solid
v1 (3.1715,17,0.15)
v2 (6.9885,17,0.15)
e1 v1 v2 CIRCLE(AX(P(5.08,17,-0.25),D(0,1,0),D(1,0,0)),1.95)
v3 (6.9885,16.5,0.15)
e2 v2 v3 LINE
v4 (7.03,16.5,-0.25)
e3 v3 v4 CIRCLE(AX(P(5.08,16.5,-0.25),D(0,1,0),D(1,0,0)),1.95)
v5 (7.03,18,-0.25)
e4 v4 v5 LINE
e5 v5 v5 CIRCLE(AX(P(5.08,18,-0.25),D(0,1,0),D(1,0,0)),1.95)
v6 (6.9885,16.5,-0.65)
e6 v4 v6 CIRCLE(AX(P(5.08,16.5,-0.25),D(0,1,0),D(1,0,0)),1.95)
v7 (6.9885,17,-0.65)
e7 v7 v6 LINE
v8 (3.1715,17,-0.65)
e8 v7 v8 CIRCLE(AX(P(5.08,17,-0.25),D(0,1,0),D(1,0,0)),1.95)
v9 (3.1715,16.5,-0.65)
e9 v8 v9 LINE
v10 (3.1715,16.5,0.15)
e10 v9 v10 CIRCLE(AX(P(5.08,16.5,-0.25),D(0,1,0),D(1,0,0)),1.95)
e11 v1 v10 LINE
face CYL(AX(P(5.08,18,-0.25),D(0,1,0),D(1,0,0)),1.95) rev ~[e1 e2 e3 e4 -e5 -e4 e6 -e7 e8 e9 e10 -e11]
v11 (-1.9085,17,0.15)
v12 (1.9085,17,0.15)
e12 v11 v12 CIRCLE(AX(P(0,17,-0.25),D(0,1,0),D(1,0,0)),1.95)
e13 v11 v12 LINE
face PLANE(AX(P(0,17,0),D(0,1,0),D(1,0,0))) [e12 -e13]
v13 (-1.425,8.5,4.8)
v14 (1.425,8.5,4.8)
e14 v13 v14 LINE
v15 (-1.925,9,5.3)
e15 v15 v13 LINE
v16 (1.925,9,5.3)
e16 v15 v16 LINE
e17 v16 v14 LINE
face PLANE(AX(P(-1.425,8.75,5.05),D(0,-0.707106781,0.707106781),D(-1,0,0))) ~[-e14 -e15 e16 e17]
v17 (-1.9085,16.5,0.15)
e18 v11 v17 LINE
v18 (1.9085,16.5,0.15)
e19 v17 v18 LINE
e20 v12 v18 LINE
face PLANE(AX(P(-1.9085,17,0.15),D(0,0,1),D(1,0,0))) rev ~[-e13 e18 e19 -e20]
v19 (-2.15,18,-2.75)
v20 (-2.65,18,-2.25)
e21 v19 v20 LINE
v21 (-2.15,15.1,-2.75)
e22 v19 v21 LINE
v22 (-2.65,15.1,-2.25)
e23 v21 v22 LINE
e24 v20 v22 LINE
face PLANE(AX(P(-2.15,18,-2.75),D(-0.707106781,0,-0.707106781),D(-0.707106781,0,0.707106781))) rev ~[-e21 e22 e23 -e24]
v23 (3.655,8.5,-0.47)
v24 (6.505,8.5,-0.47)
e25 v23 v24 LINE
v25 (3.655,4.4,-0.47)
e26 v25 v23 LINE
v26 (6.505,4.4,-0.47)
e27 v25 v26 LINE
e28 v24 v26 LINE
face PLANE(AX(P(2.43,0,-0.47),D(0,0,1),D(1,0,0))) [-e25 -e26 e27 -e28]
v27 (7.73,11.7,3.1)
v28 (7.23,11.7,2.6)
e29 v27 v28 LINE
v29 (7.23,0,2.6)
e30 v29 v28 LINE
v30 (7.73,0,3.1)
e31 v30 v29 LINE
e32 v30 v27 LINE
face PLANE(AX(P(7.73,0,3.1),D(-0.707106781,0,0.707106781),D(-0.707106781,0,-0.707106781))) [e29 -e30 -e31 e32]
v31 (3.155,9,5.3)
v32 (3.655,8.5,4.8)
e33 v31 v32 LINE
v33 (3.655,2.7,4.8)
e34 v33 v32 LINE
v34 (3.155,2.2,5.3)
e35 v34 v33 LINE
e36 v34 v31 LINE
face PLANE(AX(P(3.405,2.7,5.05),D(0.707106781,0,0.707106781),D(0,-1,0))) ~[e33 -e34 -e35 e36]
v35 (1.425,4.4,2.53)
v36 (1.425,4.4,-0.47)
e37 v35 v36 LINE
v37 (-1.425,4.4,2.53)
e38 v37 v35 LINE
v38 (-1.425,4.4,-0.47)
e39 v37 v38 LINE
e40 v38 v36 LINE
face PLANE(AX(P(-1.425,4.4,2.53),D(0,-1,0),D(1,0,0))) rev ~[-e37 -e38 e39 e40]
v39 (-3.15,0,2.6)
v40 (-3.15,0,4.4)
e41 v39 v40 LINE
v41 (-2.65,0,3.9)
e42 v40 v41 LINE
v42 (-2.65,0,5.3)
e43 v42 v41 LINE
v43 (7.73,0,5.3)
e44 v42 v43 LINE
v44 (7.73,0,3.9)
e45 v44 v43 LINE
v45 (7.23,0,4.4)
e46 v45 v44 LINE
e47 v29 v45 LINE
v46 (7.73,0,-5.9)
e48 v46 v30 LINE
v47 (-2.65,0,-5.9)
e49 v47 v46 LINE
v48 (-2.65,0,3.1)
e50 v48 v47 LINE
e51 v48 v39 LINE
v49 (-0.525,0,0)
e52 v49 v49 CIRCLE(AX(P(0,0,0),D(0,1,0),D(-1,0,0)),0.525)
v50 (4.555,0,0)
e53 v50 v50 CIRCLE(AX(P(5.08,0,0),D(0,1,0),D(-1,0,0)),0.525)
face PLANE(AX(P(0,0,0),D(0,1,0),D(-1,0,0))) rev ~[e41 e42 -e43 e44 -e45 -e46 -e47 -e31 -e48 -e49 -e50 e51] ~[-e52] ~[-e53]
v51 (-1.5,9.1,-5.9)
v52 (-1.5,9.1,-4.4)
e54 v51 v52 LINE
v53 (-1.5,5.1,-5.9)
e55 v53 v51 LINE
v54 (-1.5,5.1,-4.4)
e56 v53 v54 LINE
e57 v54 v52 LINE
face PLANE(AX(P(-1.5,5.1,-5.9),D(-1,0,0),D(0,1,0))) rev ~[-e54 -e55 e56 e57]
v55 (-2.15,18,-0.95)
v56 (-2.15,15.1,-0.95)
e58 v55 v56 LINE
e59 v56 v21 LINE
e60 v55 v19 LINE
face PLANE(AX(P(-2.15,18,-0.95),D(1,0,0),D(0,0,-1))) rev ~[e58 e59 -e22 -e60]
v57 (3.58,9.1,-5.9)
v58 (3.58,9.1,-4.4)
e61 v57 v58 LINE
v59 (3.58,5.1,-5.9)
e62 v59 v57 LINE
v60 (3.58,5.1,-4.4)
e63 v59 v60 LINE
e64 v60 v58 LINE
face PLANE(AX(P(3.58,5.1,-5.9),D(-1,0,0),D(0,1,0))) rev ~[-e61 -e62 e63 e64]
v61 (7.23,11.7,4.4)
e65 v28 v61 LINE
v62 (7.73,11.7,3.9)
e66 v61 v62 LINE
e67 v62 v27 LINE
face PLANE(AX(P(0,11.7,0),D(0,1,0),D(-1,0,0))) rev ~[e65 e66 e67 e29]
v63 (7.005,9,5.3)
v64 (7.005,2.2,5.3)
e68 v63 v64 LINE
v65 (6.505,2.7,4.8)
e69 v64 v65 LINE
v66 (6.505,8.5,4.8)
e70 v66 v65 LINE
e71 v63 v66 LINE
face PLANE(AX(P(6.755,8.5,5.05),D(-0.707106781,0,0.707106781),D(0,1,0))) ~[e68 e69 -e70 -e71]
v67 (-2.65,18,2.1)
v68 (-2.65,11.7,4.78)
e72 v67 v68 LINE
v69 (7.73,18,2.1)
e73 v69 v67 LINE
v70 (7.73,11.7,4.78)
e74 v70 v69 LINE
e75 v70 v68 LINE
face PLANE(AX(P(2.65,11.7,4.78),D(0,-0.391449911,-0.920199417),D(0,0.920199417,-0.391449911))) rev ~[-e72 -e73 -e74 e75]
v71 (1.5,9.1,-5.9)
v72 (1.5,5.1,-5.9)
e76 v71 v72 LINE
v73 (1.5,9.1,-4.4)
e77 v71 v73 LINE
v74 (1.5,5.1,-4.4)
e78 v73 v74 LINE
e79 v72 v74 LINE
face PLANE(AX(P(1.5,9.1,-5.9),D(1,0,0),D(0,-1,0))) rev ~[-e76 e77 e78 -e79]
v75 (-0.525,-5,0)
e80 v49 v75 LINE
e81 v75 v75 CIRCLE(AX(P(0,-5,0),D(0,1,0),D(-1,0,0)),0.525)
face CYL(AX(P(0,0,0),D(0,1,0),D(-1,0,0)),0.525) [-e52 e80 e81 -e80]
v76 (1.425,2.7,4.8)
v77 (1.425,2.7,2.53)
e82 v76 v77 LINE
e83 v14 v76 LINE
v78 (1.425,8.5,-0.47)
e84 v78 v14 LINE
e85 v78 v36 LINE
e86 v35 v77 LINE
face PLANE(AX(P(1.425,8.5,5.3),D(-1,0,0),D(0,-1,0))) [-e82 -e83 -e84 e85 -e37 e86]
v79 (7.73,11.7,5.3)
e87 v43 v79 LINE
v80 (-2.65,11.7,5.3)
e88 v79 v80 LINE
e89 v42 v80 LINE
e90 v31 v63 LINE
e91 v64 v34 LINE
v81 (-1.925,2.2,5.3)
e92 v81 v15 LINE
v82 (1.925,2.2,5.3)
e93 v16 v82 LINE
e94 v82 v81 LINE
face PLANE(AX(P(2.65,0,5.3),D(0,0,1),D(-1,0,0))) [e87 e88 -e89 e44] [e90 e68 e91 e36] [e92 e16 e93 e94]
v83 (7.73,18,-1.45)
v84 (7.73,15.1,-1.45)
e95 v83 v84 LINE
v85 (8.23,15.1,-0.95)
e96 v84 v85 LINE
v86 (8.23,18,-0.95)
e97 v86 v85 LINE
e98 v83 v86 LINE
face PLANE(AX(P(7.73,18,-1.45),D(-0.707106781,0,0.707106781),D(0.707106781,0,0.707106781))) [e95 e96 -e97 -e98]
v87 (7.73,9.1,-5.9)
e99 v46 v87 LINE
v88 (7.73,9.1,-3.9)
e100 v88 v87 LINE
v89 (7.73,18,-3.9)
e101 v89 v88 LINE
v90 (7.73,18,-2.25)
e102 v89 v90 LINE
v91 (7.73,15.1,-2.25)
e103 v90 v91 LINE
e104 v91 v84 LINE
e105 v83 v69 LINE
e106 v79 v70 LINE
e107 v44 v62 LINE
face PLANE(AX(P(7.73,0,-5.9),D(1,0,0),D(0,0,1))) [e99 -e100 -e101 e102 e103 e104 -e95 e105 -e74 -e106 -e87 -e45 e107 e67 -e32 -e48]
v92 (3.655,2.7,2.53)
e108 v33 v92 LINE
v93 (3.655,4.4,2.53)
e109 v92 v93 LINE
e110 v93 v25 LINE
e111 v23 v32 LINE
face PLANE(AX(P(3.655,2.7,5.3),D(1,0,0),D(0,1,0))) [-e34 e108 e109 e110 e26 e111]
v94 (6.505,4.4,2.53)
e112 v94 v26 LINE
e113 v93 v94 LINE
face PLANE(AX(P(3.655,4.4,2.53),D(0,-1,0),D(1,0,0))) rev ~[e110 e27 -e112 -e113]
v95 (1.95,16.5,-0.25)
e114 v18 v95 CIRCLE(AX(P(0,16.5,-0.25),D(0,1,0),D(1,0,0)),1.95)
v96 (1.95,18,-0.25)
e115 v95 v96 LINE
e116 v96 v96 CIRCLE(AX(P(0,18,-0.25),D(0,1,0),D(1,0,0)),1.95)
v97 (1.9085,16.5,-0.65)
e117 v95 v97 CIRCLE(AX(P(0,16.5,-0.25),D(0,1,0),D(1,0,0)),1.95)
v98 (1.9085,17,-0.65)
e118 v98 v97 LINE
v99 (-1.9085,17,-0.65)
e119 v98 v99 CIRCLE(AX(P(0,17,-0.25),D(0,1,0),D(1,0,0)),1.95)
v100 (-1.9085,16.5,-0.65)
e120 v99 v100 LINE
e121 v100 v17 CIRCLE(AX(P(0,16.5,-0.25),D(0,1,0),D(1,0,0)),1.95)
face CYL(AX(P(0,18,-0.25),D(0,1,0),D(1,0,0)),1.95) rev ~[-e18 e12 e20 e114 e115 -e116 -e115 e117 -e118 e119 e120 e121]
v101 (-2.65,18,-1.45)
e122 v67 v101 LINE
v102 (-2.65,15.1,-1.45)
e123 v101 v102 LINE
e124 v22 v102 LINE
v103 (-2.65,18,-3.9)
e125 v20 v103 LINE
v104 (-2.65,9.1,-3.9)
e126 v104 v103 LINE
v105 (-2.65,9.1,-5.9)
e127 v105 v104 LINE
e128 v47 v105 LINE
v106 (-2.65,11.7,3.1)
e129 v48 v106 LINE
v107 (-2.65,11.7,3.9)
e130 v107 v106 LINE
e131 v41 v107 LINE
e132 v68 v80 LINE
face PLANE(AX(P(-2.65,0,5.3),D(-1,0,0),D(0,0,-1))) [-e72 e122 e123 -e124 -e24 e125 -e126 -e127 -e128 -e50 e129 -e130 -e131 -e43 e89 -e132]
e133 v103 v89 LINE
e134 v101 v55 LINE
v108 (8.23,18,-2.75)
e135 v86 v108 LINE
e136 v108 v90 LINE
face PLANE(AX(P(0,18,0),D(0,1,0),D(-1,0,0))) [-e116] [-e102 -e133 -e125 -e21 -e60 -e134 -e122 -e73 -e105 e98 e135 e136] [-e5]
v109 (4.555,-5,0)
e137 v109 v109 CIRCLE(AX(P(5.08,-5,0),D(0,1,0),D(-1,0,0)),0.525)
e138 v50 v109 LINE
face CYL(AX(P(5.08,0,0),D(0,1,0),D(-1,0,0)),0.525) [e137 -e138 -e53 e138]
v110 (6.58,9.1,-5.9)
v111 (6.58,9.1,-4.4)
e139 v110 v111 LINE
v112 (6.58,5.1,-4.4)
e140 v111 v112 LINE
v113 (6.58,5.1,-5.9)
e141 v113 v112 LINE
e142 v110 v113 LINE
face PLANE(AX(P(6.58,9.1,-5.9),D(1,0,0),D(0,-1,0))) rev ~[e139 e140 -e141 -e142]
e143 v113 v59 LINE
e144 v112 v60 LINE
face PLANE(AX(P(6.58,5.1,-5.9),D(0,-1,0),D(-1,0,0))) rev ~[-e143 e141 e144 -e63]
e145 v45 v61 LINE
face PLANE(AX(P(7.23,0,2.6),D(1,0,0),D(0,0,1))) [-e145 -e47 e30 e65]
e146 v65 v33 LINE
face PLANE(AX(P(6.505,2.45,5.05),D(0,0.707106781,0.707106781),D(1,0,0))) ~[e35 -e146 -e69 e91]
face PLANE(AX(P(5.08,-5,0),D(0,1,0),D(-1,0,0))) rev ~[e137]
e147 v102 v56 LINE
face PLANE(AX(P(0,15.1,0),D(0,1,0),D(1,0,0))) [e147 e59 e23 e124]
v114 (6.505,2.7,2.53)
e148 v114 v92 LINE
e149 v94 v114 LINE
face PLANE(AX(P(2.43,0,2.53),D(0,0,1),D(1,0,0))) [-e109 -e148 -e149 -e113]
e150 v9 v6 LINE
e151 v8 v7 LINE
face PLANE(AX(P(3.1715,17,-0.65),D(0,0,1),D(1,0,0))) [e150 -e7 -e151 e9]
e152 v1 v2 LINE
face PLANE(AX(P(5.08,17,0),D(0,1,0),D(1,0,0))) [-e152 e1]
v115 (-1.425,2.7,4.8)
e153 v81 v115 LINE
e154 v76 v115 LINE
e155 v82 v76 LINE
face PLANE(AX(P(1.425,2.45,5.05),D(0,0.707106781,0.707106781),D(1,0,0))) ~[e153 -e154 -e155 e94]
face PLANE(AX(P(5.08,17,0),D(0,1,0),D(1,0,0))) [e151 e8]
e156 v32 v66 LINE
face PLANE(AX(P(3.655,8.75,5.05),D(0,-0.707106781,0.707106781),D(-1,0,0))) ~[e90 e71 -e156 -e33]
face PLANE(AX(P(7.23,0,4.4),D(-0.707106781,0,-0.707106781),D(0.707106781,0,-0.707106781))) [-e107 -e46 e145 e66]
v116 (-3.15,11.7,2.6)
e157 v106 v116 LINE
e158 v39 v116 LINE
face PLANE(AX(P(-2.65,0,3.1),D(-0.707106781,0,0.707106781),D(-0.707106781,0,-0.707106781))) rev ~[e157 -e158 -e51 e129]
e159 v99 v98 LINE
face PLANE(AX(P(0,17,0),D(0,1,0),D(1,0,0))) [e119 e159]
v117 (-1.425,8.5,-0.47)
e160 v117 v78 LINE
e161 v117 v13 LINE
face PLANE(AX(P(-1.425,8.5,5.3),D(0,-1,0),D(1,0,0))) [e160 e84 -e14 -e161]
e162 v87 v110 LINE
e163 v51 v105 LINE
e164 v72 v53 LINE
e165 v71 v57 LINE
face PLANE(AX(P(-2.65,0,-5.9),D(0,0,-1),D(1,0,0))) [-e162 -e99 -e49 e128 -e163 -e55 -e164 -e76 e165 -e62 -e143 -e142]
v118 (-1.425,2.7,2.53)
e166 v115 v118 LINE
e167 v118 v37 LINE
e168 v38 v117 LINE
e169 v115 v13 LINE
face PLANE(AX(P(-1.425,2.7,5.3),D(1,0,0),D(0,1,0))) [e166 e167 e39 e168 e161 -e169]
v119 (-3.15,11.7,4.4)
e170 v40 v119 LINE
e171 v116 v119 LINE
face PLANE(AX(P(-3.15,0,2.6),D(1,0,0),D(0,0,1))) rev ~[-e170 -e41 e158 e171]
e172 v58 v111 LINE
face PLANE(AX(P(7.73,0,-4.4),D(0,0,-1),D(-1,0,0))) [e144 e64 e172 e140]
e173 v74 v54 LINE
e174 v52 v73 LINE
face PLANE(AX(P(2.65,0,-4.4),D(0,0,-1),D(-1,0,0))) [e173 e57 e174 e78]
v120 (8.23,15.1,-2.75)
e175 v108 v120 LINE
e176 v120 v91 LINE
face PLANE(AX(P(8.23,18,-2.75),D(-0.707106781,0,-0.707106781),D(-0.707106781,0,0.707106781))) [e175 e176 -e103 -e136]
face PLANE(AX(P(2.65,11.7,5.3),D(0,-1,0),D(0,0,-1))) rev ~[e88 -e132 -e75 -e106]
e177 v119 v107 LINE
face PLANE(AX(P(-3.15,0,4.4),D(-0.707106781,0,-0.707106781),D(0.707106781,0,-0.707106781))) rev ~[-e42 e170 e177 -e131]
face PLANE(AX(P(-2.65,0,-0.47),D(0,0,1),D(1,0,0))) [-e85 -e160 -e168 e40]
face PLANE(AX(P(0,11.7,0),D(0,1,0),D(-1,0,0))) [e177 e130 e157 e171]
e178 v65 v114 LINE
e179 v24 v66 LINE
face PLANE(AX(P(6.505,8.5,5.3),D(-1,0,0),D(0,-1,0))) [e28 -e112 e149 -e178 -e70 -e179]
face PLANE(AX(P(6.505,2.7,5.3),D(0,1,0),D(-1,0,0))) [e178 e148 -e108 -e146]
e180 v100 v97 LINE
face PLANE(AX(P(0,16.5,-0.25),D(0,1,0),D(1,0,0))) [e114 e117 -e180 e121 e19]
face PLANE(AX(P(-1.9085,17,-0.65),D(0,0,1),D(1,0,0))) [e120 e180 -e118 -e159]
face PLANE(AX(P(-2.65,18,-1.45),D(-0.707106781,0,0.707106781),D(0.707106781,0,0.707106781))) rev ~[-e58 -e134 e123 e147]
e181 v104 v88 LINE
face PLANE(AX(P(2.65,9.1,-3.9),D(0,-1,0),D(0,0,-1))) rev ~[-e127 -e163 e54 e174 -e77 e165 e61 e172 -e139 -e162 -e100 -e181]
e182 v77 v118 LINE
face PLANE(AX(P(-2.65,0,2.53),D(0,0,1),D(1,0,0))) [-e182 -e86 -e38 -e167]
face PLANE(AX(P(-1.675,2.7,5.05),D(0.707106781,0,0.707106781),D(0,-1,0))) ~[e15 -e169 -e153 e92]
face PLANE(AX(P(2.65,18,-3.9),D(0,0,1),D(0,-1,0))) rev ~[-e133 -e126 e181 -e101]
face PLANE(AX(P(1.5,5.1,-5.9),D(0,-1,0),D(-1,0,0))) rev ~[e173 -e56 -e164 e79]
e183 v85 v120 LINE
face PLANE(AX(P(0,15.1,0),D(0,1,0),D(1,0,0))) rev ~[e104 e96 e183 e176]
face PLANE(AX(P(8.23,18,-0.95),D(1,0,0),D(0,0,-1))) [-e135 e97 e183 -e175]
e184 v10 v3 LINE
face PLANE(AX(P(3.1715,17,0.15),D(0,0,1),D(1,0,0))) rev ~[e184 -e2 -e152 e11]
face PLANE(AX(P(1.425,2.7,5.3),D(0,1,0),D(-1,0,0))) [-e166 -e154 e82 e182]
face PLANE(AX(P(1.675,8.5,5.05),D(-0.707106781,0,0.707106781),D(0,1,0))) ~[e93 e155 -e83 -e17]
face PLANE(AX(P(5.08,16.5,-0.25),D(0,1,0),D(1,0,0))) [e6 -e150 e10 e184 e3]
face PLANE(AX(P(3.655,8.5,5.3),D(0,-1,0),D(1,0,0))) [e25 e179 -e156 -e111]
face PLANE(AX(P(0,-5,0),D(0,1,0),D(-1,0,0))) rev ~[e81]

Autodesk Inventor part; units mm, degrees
ref_plane "YZ Plane" through (0, 0, 0) normal (1, 0, 0) x (0, 1, 0)
ref_plane "XZ Plane" through (0, 0, 0) normal (0, 1, 0) x (-1, 0, 0)
ref_plane "XY Plane" through (0, 0, 0) normal (0, 0, 1) x (1, 0, 0)
sketch "Esquisse1" plane through (0, 0, 0) normal (0, 1, 0) x (-1, 0, 0)
  circle A0 centre (0, 0) radius 0.525
  line L0 (2.65, -5.9) -> (-2.65, -5.9)
  line L1 (-2.65, -5.9) -> (-2.65, 5.3)
  line L2 (-2.65, 5.3) -> (2.65, 5.3)
  line L3 (2.65, 5.3) -> (2.65, -5.9)
  point P0 (0, 5.3)
  dimension "d0" = 1.05
  dimension "d1" = 11.2
  dimension "d2" = 5.3
  dimension "d4" = 2.65
extrude "Extrusion1" add sketch "Esquisse1" along normal blind 18 contours A0 | L0 L1 L2 L3
sketch "Esquisse8" plane through (0, 0, 0) normal (0, 1, 0) x (-1, 0, 0)
  line L0 (-7.73, 3.1) -> (-7.23, 2.6)
  line L1 (-7.23, 2.6) -> (-7.23, 4.4)
  line L2 (-7.23, 4.4) -> (-7.73, 3.9)
  line L3 (-7.73, 3.9) -> (-7.73, 3.1)
  line L4 (2.65, 3.1) -> (3.15, 2.6)
  line L5 (3.15, 2.6) -> (3.15, 4.4)
  line L6 (3.15, 4.4) -> (2.65, 3.9)
  line L7 (2.65, 3.9) -> (2.65, 3.1)
  line L8 (-8.23, -0.95) -> (-8.23, -2.75)
  line L9 (-8.23, -2.75) -> (-7.73, -2.25)
  line L10 (-7.73, -2.25) -> (-7.73, -1.45)
  line L11 (-7.73, -1.45) -> (-8.23, -0.95)
  line L12 (2.15, -0.95) -> (2.15, -2.75)
  line L13 (2.15, -2.75) -> (2.65, -2.25)
  line L14 (2.65, -2.25) -> (2.65, -1.45)
  line L15 (2.65, -1.45) -> (2.15, -0.95)
  line L16 (0, 0) -> (0, -11.21) construction
  dimension "d45" = 45
  dimension "d46" = 0.8
  dimension "d47" = 1.8
  dimension "d48" = 4.4
  dimension "d49" = 45
  dimension "d50" = 0.8
  dimension "d51" = 1.8
  dimension "d53" = 7.73
  dimension "d56" = 2.65
  dimension "d105" = 1.8
  dimension "d106" = 45
  dimension "d107" = 0.8
  dimension "d108" = 135
  dimension "d109" = 1.8
  dimension "d110" = 45
  dimension "d111" = 0.8
  dimension "d112" = 135
  dimension "d119" = 2.75
sketch "Esquisse9" plane through (0, 18, 0) normal (0, 1, 0) x (1, 0, 0)
  line L0 (-2.15, 2.75) -> (-2.65, 2.25) projected
  line L1 (-2.65, 2.25) -> (-2.65, 1.45) projected
  line L2 (-2.15, 0.95) -> (-2.15, 2.75) projected
  line L3 (-2.65, 1.45) -> (-2.15, 0.95) projected
  line L4 (8.23, 2.75) -> (7.73, 2.25) projected
  line L5 (8.23, 0.95) -> (8.23, 2.75) projected
  line L6 (7.73, 1.45) -> (8.23, 0.95) projected
  line L7 (7.73, 2.25) -> (7.73, 1.45) projected
sketch "Esquisse2" plane through (2.65, 0, 5.3) normal (1, 0, 0) x (0, 0, -1)
  line L0 (11.2, 0) -> (0, 0) projected
  line L1 (11.2, 0) -> (11.2, 18) construction
  line L2 (0, 18) -> (11.2, 18) construction
  line L3 (0, 0) -> (0, 18) construction
  line L4 (3.2, 18) -> (9.2, 18)
  line L5 (9.2, 18) -> (9.2, 9.1)
  line L6 (9.2, 9.1) -> (11.2, 9.1)
  line L7 (0, 11.7) -> (0.52, 11.7)
  line L8 (0.52, 11.7) -> (3.2, 18)
  line L9 (0, 11.7) -> (0, 18)
  line L10 (0, 18) -> (3.2, 18)
  line L11 (9.2, 18) -> (11.2, 18)
  line L12 (11.2, 18) -> (11.2, 9.1)
  point P0 (5.3, 0)
  dimension "d7" = 0.52
  dimension "d8" = 6
  dimension "d9" = 9.1
  dimension "d10" = 2
  dimension "d11" = 11.7
extrude "Extrusion2" cut sketch "Esquisse2" against normal through all
sketch "Esquisse3" plane through (0, 18, 0) normal (0, 1, 0) x (1, 0, 0)
  line L0 (-2.65, -2.1) -> (2.65, -2.1) projected
  line L1 (2.65, -2.1) -> (2.65, 3.9) projected
  line L2 (2.65, 3.9) -> (-2.65, 3.9) projected
  line L3 (-2.65, 3.9) -> (-2.65, -2.1) projected
  circle A0 centre (0, 0.25) radius 1.95
  point P0 (0, 0)
  point P1 (0, -2.1)
  dimension "d14" = 3.9
  dimension "d15" = 1.7
extrude "Extrusion3" cut sketch "Esquisse3" against normal blind 1 contours A0
sketch "Esquisse4" plane through (0, 17, -0.25) normal (0, 1, 0) x (1, 0, 0)
  circle A0 centre (0, 0) radius 1.95 projected
  line L0 (-1.9085, 0.4) -> (1.9085, 0.4)
  line L1 (-1.9085, -0.4) -> (1.9085, -0.4)
  point P0 (0, -0.25)
  dimension "d18" = 0.8
extrude "Extrusion4" cut sketch "Esquisse4" against normal blind 0.5 contours A0 L1 L0
sketch "Esquisse5" plane through (-2.65, 0, 5.3) normal (0, 0, 1) x (1, 0, 0)
  line L0 (5.3, 11.7) -> (0, 11.7) projected
  line L1 (0, 0) -> (0, 11.7) projected
  line L2 (5.3, 0) -> (0, 0) projected
  line L3 (5.3, 0) -> (5.3, 11.7) projected
  line L4 (1.225, 8.5) -> (4.075, 8.5)
  line L5 (4.075, 8.5) -> (4.075, 2.7)
  line L6 (4.075, 2.7) -> (1.225, 2.7)
  line L7 (1.225, 2.7) -> (1.225, 8.5)
  point P0 (2.65, 0)
  dimension "d21" = 1.225
  dimension "d22" = 2.85
  dimension "d23" = 5.8
  dimension "d24" = 2.7
  dimension "d25" = 1.225
extrude "Extrusion5" cut sketch "Esquisse5" against normal blind 2.77 contours L4 L5 L6 L7
chamfer "Chanfrein1" distance 0.5 angle 45 4 edges at (-1.425, 5.6, 5.3) (0, 8.5, 5.3) (1.425, 5.6, 5.3) (0, 2.7, 5.3)
sketch "Esquisse6" plane through (-2.65, 0, 2.53) normal (0, 0, 1) x (1, 0, 0)
  line L0 (1.225, 8.5) -> (4.075, 8.5) projected
  line L1 (1.225, 2.7) -> (1.225, 8.5) projected
  line L2 (4.075, 2.7) -> (1.225, 2.7) projected
  line L3 (4.075, 8.5) -> (4.075, 2.7) projected
  line L4 (1.225, 4.4) -> (4.075, 4.4)
  point P0 (2.65, 0)
  dimension "d31" = 1.7
extrude "Extrusion6" cut sketch "Esquisse6" against normal blind 3 contours L0 L3 L4 L1
sketch "Esquisse7" plane through (2.65, 0, -5.9) normal (0, 0, -1) x (-1, 0, 0)
  line L0 (5.3, 9.1) -> (0, 9.1) construction
  line L1 (0, 0) -> (0, 9.1) construction
  line L2 (5.3, 0) -> (0, 0) construction
  line L3 (5.3, 0) -> (5.3, 9.1) construction
  line L4 (1.15, 9.1) -> (1.15, 5.1)
  line L5 (1.15, 5.1) -> (4.15, 5.1)
  line L6 (4.15, 5.1) -> (4.15, 9.1)
  line L7 (4.15, 9.1) -> (1.15, 9.1)
  point P0 (2.65, 0)
  dimension "d34" = 3
  dimension "d35" = 4
  dimension "d36" = 1.15
  dimension "d37" = 1.15
extrude "Extrusion7" cut sketch "Esquisse7" against normal blind 1.5
extrude "Extrusion8" add sketch "Esquisse1" against normal blind 5 contours A0
sketch "SilkS" plane through (0, 18, 0) normal (0, 1, 0) x (1, 0, 0)
  line L0 (2.65, -5.3) -> (-10.27, -5.3)
  line L1 (-10.27, 5.9) -> (2.65, 5.9)
  line L2 (-10.27, 5.9) -> (-10.27, -5.3)
  line L3 (2.65, 5.9) -> (2.65, -5.3)
  point P0 (0, 0)
  dimension "d121" = 10.27
sketch "CrtYd" plane through (0, 18, 0) normal (0, 1, 0) x (1, 0, 0)
  line L0 (7.73, -3.1) -> (7.23, -2.6) projected
  line L1 (7.23, -2.6) -> (7.23, -4.4) projected
  line L2 (7.73, -3.9) -> (7.73, -3.1) projected
  line L3 (7.23, -4.4) -> (7.73, -3.9) projected
  line L4 (-2.65, -3.1) -> (-3.15, -2.6) projected
  line L5 (-3.15, -2.6) -> (-3.15, -4.4) projected
  line L6 (-2.65, -3.9) -> (-2.65, -3.1) projected
  line L7 (-3.15, -4.4) -> (-2.65, -3.9) projected
  line L8 (2.65, 2.35) -> (2.65, 1.55) projected
  line L9 (3.15, 2.85) -> (2.65, 2.35) projected
  line L10 (3.15, 1.05) -> (3.15, 2.85) projected
  line L11 (2.65, 1.55) -> (3.15, 1.05) projected
  line L12 (-2.15, 2.85) -> (-2.65, 2.35) projected
  line L13 (-2.15, 1.05) -> (-2.15, 2.85) projected
  line L14 (-2.65, 2.35) -> (-2.65, 1.55) projected
  line L15 (-2.65, 1.55) -> (-2.15, 1.05) projected
  circle A0 centre (0, 0.25) radius 1.95 construction
  line L16 (1.425, -4.8) -> (-1.425, -4.8) construction
  line L17 (-1.925, -5.3) -> (-1.425, -4.8) construction
  line L18 (-1.925, -5.3) -> (1.925, -5.3) construction
  line L19 (1.925, -5.3) -> (1.425, -4.8) construction
  line L20 (1.425, -4.8) -> (-1.425, -4.8) construction
  line L21 (1.425, -4.8) -> (1.425, -2.53) construction
  line L22 (1.425, -2.53) -> (-1.425, -2.53) construction
  line L23 (-1.425, -4.8) -> (-1.425, -2.53) construction
  circle A1 centre (0, 0.25) radius 1.95
  line L24 (1.425, -2.53) -> (1.425, -4.8)
  line L25 (1.425, -4.8) -> (1.925, -5.3)
  line L26 (1.925, -5.3) -> (-1.925, -5.3)
  line L27 (-1.925, -5.3) -> (-1.425, -4.8)
  line L28 (-1.425, -4.8) -> (-1.425, -2.53)
  line L29 (-1.425, -2.53) -> (1.425, -2.53)
  line L30 (1.425, -4.8) -> (-1.425, -4.8)
  circle A2 centre (5.08, 0.25) radius 1.95
  line L31 (3.655, -2.53) -> (6.505, -2.53)
  line L32 (3.655, -4.8) -> (3.655, -2.53)
  line L33 (6.505, -2.53) -> (6.505, -4.8)
  line L34 (6.505, -4.8) -> (3.655, -4.8)
  line L35 (7.005, -5.3) -> (3.155, -5.3)
  line L36 (6.505, -4.8) -> (7.005, -5.3)
  line L37 (3.155, -5.3) -> (3.655, -4.8)
  line L38 (-2.65, -3.9) -> (-2.65, -5.3)
  line L39 (-2.65, -5.3) -> (7.73, -5.3)
  line L40 (7.73, -5.3) -> (7.73, -3.9)
  line L41 (2.65, -3.1) -> (2.65, 1.55)
  line L42 (2.65, 2.35) -> (2.65, 5.9)
  line L43 (2.65, 5.9) -> (-2.65, 5.9)
  line L44 (-2.65, 5.9) -> (-2.65, 2.35)
  line L45 (-2.65, 1.55) -> (-2.65, -3.1)
  point P0 (0, 0)
  dimension "d98" = 5.08
pattern_linear "Réseau rectangulaire1" count 2 spacing 5.08 along (1, 0, 0)
extrude "Extrusion9" cut sketch "Esquisse8" along normal up to surface (11.7 mm away) contours L3 L2 L1 L0
extrude "Extrusion10" add sketch "Esquisse8" along normal up to surface (11.7 mm away) contours L7 L6 L5 L4
extrude "Extrusion11" add sketch "Esquisse9" against normal blind 2.9 contours L5 L6 L7 L4
extrude "Extrusion12" cut sketch "Esquisse9" against normal blind 2.9 contours L2 L3 L1 L0
equation "\"d21\" = d25"
equation "\"d36\" = d37"
properties part number "bornier_vert_5.08_variable"
